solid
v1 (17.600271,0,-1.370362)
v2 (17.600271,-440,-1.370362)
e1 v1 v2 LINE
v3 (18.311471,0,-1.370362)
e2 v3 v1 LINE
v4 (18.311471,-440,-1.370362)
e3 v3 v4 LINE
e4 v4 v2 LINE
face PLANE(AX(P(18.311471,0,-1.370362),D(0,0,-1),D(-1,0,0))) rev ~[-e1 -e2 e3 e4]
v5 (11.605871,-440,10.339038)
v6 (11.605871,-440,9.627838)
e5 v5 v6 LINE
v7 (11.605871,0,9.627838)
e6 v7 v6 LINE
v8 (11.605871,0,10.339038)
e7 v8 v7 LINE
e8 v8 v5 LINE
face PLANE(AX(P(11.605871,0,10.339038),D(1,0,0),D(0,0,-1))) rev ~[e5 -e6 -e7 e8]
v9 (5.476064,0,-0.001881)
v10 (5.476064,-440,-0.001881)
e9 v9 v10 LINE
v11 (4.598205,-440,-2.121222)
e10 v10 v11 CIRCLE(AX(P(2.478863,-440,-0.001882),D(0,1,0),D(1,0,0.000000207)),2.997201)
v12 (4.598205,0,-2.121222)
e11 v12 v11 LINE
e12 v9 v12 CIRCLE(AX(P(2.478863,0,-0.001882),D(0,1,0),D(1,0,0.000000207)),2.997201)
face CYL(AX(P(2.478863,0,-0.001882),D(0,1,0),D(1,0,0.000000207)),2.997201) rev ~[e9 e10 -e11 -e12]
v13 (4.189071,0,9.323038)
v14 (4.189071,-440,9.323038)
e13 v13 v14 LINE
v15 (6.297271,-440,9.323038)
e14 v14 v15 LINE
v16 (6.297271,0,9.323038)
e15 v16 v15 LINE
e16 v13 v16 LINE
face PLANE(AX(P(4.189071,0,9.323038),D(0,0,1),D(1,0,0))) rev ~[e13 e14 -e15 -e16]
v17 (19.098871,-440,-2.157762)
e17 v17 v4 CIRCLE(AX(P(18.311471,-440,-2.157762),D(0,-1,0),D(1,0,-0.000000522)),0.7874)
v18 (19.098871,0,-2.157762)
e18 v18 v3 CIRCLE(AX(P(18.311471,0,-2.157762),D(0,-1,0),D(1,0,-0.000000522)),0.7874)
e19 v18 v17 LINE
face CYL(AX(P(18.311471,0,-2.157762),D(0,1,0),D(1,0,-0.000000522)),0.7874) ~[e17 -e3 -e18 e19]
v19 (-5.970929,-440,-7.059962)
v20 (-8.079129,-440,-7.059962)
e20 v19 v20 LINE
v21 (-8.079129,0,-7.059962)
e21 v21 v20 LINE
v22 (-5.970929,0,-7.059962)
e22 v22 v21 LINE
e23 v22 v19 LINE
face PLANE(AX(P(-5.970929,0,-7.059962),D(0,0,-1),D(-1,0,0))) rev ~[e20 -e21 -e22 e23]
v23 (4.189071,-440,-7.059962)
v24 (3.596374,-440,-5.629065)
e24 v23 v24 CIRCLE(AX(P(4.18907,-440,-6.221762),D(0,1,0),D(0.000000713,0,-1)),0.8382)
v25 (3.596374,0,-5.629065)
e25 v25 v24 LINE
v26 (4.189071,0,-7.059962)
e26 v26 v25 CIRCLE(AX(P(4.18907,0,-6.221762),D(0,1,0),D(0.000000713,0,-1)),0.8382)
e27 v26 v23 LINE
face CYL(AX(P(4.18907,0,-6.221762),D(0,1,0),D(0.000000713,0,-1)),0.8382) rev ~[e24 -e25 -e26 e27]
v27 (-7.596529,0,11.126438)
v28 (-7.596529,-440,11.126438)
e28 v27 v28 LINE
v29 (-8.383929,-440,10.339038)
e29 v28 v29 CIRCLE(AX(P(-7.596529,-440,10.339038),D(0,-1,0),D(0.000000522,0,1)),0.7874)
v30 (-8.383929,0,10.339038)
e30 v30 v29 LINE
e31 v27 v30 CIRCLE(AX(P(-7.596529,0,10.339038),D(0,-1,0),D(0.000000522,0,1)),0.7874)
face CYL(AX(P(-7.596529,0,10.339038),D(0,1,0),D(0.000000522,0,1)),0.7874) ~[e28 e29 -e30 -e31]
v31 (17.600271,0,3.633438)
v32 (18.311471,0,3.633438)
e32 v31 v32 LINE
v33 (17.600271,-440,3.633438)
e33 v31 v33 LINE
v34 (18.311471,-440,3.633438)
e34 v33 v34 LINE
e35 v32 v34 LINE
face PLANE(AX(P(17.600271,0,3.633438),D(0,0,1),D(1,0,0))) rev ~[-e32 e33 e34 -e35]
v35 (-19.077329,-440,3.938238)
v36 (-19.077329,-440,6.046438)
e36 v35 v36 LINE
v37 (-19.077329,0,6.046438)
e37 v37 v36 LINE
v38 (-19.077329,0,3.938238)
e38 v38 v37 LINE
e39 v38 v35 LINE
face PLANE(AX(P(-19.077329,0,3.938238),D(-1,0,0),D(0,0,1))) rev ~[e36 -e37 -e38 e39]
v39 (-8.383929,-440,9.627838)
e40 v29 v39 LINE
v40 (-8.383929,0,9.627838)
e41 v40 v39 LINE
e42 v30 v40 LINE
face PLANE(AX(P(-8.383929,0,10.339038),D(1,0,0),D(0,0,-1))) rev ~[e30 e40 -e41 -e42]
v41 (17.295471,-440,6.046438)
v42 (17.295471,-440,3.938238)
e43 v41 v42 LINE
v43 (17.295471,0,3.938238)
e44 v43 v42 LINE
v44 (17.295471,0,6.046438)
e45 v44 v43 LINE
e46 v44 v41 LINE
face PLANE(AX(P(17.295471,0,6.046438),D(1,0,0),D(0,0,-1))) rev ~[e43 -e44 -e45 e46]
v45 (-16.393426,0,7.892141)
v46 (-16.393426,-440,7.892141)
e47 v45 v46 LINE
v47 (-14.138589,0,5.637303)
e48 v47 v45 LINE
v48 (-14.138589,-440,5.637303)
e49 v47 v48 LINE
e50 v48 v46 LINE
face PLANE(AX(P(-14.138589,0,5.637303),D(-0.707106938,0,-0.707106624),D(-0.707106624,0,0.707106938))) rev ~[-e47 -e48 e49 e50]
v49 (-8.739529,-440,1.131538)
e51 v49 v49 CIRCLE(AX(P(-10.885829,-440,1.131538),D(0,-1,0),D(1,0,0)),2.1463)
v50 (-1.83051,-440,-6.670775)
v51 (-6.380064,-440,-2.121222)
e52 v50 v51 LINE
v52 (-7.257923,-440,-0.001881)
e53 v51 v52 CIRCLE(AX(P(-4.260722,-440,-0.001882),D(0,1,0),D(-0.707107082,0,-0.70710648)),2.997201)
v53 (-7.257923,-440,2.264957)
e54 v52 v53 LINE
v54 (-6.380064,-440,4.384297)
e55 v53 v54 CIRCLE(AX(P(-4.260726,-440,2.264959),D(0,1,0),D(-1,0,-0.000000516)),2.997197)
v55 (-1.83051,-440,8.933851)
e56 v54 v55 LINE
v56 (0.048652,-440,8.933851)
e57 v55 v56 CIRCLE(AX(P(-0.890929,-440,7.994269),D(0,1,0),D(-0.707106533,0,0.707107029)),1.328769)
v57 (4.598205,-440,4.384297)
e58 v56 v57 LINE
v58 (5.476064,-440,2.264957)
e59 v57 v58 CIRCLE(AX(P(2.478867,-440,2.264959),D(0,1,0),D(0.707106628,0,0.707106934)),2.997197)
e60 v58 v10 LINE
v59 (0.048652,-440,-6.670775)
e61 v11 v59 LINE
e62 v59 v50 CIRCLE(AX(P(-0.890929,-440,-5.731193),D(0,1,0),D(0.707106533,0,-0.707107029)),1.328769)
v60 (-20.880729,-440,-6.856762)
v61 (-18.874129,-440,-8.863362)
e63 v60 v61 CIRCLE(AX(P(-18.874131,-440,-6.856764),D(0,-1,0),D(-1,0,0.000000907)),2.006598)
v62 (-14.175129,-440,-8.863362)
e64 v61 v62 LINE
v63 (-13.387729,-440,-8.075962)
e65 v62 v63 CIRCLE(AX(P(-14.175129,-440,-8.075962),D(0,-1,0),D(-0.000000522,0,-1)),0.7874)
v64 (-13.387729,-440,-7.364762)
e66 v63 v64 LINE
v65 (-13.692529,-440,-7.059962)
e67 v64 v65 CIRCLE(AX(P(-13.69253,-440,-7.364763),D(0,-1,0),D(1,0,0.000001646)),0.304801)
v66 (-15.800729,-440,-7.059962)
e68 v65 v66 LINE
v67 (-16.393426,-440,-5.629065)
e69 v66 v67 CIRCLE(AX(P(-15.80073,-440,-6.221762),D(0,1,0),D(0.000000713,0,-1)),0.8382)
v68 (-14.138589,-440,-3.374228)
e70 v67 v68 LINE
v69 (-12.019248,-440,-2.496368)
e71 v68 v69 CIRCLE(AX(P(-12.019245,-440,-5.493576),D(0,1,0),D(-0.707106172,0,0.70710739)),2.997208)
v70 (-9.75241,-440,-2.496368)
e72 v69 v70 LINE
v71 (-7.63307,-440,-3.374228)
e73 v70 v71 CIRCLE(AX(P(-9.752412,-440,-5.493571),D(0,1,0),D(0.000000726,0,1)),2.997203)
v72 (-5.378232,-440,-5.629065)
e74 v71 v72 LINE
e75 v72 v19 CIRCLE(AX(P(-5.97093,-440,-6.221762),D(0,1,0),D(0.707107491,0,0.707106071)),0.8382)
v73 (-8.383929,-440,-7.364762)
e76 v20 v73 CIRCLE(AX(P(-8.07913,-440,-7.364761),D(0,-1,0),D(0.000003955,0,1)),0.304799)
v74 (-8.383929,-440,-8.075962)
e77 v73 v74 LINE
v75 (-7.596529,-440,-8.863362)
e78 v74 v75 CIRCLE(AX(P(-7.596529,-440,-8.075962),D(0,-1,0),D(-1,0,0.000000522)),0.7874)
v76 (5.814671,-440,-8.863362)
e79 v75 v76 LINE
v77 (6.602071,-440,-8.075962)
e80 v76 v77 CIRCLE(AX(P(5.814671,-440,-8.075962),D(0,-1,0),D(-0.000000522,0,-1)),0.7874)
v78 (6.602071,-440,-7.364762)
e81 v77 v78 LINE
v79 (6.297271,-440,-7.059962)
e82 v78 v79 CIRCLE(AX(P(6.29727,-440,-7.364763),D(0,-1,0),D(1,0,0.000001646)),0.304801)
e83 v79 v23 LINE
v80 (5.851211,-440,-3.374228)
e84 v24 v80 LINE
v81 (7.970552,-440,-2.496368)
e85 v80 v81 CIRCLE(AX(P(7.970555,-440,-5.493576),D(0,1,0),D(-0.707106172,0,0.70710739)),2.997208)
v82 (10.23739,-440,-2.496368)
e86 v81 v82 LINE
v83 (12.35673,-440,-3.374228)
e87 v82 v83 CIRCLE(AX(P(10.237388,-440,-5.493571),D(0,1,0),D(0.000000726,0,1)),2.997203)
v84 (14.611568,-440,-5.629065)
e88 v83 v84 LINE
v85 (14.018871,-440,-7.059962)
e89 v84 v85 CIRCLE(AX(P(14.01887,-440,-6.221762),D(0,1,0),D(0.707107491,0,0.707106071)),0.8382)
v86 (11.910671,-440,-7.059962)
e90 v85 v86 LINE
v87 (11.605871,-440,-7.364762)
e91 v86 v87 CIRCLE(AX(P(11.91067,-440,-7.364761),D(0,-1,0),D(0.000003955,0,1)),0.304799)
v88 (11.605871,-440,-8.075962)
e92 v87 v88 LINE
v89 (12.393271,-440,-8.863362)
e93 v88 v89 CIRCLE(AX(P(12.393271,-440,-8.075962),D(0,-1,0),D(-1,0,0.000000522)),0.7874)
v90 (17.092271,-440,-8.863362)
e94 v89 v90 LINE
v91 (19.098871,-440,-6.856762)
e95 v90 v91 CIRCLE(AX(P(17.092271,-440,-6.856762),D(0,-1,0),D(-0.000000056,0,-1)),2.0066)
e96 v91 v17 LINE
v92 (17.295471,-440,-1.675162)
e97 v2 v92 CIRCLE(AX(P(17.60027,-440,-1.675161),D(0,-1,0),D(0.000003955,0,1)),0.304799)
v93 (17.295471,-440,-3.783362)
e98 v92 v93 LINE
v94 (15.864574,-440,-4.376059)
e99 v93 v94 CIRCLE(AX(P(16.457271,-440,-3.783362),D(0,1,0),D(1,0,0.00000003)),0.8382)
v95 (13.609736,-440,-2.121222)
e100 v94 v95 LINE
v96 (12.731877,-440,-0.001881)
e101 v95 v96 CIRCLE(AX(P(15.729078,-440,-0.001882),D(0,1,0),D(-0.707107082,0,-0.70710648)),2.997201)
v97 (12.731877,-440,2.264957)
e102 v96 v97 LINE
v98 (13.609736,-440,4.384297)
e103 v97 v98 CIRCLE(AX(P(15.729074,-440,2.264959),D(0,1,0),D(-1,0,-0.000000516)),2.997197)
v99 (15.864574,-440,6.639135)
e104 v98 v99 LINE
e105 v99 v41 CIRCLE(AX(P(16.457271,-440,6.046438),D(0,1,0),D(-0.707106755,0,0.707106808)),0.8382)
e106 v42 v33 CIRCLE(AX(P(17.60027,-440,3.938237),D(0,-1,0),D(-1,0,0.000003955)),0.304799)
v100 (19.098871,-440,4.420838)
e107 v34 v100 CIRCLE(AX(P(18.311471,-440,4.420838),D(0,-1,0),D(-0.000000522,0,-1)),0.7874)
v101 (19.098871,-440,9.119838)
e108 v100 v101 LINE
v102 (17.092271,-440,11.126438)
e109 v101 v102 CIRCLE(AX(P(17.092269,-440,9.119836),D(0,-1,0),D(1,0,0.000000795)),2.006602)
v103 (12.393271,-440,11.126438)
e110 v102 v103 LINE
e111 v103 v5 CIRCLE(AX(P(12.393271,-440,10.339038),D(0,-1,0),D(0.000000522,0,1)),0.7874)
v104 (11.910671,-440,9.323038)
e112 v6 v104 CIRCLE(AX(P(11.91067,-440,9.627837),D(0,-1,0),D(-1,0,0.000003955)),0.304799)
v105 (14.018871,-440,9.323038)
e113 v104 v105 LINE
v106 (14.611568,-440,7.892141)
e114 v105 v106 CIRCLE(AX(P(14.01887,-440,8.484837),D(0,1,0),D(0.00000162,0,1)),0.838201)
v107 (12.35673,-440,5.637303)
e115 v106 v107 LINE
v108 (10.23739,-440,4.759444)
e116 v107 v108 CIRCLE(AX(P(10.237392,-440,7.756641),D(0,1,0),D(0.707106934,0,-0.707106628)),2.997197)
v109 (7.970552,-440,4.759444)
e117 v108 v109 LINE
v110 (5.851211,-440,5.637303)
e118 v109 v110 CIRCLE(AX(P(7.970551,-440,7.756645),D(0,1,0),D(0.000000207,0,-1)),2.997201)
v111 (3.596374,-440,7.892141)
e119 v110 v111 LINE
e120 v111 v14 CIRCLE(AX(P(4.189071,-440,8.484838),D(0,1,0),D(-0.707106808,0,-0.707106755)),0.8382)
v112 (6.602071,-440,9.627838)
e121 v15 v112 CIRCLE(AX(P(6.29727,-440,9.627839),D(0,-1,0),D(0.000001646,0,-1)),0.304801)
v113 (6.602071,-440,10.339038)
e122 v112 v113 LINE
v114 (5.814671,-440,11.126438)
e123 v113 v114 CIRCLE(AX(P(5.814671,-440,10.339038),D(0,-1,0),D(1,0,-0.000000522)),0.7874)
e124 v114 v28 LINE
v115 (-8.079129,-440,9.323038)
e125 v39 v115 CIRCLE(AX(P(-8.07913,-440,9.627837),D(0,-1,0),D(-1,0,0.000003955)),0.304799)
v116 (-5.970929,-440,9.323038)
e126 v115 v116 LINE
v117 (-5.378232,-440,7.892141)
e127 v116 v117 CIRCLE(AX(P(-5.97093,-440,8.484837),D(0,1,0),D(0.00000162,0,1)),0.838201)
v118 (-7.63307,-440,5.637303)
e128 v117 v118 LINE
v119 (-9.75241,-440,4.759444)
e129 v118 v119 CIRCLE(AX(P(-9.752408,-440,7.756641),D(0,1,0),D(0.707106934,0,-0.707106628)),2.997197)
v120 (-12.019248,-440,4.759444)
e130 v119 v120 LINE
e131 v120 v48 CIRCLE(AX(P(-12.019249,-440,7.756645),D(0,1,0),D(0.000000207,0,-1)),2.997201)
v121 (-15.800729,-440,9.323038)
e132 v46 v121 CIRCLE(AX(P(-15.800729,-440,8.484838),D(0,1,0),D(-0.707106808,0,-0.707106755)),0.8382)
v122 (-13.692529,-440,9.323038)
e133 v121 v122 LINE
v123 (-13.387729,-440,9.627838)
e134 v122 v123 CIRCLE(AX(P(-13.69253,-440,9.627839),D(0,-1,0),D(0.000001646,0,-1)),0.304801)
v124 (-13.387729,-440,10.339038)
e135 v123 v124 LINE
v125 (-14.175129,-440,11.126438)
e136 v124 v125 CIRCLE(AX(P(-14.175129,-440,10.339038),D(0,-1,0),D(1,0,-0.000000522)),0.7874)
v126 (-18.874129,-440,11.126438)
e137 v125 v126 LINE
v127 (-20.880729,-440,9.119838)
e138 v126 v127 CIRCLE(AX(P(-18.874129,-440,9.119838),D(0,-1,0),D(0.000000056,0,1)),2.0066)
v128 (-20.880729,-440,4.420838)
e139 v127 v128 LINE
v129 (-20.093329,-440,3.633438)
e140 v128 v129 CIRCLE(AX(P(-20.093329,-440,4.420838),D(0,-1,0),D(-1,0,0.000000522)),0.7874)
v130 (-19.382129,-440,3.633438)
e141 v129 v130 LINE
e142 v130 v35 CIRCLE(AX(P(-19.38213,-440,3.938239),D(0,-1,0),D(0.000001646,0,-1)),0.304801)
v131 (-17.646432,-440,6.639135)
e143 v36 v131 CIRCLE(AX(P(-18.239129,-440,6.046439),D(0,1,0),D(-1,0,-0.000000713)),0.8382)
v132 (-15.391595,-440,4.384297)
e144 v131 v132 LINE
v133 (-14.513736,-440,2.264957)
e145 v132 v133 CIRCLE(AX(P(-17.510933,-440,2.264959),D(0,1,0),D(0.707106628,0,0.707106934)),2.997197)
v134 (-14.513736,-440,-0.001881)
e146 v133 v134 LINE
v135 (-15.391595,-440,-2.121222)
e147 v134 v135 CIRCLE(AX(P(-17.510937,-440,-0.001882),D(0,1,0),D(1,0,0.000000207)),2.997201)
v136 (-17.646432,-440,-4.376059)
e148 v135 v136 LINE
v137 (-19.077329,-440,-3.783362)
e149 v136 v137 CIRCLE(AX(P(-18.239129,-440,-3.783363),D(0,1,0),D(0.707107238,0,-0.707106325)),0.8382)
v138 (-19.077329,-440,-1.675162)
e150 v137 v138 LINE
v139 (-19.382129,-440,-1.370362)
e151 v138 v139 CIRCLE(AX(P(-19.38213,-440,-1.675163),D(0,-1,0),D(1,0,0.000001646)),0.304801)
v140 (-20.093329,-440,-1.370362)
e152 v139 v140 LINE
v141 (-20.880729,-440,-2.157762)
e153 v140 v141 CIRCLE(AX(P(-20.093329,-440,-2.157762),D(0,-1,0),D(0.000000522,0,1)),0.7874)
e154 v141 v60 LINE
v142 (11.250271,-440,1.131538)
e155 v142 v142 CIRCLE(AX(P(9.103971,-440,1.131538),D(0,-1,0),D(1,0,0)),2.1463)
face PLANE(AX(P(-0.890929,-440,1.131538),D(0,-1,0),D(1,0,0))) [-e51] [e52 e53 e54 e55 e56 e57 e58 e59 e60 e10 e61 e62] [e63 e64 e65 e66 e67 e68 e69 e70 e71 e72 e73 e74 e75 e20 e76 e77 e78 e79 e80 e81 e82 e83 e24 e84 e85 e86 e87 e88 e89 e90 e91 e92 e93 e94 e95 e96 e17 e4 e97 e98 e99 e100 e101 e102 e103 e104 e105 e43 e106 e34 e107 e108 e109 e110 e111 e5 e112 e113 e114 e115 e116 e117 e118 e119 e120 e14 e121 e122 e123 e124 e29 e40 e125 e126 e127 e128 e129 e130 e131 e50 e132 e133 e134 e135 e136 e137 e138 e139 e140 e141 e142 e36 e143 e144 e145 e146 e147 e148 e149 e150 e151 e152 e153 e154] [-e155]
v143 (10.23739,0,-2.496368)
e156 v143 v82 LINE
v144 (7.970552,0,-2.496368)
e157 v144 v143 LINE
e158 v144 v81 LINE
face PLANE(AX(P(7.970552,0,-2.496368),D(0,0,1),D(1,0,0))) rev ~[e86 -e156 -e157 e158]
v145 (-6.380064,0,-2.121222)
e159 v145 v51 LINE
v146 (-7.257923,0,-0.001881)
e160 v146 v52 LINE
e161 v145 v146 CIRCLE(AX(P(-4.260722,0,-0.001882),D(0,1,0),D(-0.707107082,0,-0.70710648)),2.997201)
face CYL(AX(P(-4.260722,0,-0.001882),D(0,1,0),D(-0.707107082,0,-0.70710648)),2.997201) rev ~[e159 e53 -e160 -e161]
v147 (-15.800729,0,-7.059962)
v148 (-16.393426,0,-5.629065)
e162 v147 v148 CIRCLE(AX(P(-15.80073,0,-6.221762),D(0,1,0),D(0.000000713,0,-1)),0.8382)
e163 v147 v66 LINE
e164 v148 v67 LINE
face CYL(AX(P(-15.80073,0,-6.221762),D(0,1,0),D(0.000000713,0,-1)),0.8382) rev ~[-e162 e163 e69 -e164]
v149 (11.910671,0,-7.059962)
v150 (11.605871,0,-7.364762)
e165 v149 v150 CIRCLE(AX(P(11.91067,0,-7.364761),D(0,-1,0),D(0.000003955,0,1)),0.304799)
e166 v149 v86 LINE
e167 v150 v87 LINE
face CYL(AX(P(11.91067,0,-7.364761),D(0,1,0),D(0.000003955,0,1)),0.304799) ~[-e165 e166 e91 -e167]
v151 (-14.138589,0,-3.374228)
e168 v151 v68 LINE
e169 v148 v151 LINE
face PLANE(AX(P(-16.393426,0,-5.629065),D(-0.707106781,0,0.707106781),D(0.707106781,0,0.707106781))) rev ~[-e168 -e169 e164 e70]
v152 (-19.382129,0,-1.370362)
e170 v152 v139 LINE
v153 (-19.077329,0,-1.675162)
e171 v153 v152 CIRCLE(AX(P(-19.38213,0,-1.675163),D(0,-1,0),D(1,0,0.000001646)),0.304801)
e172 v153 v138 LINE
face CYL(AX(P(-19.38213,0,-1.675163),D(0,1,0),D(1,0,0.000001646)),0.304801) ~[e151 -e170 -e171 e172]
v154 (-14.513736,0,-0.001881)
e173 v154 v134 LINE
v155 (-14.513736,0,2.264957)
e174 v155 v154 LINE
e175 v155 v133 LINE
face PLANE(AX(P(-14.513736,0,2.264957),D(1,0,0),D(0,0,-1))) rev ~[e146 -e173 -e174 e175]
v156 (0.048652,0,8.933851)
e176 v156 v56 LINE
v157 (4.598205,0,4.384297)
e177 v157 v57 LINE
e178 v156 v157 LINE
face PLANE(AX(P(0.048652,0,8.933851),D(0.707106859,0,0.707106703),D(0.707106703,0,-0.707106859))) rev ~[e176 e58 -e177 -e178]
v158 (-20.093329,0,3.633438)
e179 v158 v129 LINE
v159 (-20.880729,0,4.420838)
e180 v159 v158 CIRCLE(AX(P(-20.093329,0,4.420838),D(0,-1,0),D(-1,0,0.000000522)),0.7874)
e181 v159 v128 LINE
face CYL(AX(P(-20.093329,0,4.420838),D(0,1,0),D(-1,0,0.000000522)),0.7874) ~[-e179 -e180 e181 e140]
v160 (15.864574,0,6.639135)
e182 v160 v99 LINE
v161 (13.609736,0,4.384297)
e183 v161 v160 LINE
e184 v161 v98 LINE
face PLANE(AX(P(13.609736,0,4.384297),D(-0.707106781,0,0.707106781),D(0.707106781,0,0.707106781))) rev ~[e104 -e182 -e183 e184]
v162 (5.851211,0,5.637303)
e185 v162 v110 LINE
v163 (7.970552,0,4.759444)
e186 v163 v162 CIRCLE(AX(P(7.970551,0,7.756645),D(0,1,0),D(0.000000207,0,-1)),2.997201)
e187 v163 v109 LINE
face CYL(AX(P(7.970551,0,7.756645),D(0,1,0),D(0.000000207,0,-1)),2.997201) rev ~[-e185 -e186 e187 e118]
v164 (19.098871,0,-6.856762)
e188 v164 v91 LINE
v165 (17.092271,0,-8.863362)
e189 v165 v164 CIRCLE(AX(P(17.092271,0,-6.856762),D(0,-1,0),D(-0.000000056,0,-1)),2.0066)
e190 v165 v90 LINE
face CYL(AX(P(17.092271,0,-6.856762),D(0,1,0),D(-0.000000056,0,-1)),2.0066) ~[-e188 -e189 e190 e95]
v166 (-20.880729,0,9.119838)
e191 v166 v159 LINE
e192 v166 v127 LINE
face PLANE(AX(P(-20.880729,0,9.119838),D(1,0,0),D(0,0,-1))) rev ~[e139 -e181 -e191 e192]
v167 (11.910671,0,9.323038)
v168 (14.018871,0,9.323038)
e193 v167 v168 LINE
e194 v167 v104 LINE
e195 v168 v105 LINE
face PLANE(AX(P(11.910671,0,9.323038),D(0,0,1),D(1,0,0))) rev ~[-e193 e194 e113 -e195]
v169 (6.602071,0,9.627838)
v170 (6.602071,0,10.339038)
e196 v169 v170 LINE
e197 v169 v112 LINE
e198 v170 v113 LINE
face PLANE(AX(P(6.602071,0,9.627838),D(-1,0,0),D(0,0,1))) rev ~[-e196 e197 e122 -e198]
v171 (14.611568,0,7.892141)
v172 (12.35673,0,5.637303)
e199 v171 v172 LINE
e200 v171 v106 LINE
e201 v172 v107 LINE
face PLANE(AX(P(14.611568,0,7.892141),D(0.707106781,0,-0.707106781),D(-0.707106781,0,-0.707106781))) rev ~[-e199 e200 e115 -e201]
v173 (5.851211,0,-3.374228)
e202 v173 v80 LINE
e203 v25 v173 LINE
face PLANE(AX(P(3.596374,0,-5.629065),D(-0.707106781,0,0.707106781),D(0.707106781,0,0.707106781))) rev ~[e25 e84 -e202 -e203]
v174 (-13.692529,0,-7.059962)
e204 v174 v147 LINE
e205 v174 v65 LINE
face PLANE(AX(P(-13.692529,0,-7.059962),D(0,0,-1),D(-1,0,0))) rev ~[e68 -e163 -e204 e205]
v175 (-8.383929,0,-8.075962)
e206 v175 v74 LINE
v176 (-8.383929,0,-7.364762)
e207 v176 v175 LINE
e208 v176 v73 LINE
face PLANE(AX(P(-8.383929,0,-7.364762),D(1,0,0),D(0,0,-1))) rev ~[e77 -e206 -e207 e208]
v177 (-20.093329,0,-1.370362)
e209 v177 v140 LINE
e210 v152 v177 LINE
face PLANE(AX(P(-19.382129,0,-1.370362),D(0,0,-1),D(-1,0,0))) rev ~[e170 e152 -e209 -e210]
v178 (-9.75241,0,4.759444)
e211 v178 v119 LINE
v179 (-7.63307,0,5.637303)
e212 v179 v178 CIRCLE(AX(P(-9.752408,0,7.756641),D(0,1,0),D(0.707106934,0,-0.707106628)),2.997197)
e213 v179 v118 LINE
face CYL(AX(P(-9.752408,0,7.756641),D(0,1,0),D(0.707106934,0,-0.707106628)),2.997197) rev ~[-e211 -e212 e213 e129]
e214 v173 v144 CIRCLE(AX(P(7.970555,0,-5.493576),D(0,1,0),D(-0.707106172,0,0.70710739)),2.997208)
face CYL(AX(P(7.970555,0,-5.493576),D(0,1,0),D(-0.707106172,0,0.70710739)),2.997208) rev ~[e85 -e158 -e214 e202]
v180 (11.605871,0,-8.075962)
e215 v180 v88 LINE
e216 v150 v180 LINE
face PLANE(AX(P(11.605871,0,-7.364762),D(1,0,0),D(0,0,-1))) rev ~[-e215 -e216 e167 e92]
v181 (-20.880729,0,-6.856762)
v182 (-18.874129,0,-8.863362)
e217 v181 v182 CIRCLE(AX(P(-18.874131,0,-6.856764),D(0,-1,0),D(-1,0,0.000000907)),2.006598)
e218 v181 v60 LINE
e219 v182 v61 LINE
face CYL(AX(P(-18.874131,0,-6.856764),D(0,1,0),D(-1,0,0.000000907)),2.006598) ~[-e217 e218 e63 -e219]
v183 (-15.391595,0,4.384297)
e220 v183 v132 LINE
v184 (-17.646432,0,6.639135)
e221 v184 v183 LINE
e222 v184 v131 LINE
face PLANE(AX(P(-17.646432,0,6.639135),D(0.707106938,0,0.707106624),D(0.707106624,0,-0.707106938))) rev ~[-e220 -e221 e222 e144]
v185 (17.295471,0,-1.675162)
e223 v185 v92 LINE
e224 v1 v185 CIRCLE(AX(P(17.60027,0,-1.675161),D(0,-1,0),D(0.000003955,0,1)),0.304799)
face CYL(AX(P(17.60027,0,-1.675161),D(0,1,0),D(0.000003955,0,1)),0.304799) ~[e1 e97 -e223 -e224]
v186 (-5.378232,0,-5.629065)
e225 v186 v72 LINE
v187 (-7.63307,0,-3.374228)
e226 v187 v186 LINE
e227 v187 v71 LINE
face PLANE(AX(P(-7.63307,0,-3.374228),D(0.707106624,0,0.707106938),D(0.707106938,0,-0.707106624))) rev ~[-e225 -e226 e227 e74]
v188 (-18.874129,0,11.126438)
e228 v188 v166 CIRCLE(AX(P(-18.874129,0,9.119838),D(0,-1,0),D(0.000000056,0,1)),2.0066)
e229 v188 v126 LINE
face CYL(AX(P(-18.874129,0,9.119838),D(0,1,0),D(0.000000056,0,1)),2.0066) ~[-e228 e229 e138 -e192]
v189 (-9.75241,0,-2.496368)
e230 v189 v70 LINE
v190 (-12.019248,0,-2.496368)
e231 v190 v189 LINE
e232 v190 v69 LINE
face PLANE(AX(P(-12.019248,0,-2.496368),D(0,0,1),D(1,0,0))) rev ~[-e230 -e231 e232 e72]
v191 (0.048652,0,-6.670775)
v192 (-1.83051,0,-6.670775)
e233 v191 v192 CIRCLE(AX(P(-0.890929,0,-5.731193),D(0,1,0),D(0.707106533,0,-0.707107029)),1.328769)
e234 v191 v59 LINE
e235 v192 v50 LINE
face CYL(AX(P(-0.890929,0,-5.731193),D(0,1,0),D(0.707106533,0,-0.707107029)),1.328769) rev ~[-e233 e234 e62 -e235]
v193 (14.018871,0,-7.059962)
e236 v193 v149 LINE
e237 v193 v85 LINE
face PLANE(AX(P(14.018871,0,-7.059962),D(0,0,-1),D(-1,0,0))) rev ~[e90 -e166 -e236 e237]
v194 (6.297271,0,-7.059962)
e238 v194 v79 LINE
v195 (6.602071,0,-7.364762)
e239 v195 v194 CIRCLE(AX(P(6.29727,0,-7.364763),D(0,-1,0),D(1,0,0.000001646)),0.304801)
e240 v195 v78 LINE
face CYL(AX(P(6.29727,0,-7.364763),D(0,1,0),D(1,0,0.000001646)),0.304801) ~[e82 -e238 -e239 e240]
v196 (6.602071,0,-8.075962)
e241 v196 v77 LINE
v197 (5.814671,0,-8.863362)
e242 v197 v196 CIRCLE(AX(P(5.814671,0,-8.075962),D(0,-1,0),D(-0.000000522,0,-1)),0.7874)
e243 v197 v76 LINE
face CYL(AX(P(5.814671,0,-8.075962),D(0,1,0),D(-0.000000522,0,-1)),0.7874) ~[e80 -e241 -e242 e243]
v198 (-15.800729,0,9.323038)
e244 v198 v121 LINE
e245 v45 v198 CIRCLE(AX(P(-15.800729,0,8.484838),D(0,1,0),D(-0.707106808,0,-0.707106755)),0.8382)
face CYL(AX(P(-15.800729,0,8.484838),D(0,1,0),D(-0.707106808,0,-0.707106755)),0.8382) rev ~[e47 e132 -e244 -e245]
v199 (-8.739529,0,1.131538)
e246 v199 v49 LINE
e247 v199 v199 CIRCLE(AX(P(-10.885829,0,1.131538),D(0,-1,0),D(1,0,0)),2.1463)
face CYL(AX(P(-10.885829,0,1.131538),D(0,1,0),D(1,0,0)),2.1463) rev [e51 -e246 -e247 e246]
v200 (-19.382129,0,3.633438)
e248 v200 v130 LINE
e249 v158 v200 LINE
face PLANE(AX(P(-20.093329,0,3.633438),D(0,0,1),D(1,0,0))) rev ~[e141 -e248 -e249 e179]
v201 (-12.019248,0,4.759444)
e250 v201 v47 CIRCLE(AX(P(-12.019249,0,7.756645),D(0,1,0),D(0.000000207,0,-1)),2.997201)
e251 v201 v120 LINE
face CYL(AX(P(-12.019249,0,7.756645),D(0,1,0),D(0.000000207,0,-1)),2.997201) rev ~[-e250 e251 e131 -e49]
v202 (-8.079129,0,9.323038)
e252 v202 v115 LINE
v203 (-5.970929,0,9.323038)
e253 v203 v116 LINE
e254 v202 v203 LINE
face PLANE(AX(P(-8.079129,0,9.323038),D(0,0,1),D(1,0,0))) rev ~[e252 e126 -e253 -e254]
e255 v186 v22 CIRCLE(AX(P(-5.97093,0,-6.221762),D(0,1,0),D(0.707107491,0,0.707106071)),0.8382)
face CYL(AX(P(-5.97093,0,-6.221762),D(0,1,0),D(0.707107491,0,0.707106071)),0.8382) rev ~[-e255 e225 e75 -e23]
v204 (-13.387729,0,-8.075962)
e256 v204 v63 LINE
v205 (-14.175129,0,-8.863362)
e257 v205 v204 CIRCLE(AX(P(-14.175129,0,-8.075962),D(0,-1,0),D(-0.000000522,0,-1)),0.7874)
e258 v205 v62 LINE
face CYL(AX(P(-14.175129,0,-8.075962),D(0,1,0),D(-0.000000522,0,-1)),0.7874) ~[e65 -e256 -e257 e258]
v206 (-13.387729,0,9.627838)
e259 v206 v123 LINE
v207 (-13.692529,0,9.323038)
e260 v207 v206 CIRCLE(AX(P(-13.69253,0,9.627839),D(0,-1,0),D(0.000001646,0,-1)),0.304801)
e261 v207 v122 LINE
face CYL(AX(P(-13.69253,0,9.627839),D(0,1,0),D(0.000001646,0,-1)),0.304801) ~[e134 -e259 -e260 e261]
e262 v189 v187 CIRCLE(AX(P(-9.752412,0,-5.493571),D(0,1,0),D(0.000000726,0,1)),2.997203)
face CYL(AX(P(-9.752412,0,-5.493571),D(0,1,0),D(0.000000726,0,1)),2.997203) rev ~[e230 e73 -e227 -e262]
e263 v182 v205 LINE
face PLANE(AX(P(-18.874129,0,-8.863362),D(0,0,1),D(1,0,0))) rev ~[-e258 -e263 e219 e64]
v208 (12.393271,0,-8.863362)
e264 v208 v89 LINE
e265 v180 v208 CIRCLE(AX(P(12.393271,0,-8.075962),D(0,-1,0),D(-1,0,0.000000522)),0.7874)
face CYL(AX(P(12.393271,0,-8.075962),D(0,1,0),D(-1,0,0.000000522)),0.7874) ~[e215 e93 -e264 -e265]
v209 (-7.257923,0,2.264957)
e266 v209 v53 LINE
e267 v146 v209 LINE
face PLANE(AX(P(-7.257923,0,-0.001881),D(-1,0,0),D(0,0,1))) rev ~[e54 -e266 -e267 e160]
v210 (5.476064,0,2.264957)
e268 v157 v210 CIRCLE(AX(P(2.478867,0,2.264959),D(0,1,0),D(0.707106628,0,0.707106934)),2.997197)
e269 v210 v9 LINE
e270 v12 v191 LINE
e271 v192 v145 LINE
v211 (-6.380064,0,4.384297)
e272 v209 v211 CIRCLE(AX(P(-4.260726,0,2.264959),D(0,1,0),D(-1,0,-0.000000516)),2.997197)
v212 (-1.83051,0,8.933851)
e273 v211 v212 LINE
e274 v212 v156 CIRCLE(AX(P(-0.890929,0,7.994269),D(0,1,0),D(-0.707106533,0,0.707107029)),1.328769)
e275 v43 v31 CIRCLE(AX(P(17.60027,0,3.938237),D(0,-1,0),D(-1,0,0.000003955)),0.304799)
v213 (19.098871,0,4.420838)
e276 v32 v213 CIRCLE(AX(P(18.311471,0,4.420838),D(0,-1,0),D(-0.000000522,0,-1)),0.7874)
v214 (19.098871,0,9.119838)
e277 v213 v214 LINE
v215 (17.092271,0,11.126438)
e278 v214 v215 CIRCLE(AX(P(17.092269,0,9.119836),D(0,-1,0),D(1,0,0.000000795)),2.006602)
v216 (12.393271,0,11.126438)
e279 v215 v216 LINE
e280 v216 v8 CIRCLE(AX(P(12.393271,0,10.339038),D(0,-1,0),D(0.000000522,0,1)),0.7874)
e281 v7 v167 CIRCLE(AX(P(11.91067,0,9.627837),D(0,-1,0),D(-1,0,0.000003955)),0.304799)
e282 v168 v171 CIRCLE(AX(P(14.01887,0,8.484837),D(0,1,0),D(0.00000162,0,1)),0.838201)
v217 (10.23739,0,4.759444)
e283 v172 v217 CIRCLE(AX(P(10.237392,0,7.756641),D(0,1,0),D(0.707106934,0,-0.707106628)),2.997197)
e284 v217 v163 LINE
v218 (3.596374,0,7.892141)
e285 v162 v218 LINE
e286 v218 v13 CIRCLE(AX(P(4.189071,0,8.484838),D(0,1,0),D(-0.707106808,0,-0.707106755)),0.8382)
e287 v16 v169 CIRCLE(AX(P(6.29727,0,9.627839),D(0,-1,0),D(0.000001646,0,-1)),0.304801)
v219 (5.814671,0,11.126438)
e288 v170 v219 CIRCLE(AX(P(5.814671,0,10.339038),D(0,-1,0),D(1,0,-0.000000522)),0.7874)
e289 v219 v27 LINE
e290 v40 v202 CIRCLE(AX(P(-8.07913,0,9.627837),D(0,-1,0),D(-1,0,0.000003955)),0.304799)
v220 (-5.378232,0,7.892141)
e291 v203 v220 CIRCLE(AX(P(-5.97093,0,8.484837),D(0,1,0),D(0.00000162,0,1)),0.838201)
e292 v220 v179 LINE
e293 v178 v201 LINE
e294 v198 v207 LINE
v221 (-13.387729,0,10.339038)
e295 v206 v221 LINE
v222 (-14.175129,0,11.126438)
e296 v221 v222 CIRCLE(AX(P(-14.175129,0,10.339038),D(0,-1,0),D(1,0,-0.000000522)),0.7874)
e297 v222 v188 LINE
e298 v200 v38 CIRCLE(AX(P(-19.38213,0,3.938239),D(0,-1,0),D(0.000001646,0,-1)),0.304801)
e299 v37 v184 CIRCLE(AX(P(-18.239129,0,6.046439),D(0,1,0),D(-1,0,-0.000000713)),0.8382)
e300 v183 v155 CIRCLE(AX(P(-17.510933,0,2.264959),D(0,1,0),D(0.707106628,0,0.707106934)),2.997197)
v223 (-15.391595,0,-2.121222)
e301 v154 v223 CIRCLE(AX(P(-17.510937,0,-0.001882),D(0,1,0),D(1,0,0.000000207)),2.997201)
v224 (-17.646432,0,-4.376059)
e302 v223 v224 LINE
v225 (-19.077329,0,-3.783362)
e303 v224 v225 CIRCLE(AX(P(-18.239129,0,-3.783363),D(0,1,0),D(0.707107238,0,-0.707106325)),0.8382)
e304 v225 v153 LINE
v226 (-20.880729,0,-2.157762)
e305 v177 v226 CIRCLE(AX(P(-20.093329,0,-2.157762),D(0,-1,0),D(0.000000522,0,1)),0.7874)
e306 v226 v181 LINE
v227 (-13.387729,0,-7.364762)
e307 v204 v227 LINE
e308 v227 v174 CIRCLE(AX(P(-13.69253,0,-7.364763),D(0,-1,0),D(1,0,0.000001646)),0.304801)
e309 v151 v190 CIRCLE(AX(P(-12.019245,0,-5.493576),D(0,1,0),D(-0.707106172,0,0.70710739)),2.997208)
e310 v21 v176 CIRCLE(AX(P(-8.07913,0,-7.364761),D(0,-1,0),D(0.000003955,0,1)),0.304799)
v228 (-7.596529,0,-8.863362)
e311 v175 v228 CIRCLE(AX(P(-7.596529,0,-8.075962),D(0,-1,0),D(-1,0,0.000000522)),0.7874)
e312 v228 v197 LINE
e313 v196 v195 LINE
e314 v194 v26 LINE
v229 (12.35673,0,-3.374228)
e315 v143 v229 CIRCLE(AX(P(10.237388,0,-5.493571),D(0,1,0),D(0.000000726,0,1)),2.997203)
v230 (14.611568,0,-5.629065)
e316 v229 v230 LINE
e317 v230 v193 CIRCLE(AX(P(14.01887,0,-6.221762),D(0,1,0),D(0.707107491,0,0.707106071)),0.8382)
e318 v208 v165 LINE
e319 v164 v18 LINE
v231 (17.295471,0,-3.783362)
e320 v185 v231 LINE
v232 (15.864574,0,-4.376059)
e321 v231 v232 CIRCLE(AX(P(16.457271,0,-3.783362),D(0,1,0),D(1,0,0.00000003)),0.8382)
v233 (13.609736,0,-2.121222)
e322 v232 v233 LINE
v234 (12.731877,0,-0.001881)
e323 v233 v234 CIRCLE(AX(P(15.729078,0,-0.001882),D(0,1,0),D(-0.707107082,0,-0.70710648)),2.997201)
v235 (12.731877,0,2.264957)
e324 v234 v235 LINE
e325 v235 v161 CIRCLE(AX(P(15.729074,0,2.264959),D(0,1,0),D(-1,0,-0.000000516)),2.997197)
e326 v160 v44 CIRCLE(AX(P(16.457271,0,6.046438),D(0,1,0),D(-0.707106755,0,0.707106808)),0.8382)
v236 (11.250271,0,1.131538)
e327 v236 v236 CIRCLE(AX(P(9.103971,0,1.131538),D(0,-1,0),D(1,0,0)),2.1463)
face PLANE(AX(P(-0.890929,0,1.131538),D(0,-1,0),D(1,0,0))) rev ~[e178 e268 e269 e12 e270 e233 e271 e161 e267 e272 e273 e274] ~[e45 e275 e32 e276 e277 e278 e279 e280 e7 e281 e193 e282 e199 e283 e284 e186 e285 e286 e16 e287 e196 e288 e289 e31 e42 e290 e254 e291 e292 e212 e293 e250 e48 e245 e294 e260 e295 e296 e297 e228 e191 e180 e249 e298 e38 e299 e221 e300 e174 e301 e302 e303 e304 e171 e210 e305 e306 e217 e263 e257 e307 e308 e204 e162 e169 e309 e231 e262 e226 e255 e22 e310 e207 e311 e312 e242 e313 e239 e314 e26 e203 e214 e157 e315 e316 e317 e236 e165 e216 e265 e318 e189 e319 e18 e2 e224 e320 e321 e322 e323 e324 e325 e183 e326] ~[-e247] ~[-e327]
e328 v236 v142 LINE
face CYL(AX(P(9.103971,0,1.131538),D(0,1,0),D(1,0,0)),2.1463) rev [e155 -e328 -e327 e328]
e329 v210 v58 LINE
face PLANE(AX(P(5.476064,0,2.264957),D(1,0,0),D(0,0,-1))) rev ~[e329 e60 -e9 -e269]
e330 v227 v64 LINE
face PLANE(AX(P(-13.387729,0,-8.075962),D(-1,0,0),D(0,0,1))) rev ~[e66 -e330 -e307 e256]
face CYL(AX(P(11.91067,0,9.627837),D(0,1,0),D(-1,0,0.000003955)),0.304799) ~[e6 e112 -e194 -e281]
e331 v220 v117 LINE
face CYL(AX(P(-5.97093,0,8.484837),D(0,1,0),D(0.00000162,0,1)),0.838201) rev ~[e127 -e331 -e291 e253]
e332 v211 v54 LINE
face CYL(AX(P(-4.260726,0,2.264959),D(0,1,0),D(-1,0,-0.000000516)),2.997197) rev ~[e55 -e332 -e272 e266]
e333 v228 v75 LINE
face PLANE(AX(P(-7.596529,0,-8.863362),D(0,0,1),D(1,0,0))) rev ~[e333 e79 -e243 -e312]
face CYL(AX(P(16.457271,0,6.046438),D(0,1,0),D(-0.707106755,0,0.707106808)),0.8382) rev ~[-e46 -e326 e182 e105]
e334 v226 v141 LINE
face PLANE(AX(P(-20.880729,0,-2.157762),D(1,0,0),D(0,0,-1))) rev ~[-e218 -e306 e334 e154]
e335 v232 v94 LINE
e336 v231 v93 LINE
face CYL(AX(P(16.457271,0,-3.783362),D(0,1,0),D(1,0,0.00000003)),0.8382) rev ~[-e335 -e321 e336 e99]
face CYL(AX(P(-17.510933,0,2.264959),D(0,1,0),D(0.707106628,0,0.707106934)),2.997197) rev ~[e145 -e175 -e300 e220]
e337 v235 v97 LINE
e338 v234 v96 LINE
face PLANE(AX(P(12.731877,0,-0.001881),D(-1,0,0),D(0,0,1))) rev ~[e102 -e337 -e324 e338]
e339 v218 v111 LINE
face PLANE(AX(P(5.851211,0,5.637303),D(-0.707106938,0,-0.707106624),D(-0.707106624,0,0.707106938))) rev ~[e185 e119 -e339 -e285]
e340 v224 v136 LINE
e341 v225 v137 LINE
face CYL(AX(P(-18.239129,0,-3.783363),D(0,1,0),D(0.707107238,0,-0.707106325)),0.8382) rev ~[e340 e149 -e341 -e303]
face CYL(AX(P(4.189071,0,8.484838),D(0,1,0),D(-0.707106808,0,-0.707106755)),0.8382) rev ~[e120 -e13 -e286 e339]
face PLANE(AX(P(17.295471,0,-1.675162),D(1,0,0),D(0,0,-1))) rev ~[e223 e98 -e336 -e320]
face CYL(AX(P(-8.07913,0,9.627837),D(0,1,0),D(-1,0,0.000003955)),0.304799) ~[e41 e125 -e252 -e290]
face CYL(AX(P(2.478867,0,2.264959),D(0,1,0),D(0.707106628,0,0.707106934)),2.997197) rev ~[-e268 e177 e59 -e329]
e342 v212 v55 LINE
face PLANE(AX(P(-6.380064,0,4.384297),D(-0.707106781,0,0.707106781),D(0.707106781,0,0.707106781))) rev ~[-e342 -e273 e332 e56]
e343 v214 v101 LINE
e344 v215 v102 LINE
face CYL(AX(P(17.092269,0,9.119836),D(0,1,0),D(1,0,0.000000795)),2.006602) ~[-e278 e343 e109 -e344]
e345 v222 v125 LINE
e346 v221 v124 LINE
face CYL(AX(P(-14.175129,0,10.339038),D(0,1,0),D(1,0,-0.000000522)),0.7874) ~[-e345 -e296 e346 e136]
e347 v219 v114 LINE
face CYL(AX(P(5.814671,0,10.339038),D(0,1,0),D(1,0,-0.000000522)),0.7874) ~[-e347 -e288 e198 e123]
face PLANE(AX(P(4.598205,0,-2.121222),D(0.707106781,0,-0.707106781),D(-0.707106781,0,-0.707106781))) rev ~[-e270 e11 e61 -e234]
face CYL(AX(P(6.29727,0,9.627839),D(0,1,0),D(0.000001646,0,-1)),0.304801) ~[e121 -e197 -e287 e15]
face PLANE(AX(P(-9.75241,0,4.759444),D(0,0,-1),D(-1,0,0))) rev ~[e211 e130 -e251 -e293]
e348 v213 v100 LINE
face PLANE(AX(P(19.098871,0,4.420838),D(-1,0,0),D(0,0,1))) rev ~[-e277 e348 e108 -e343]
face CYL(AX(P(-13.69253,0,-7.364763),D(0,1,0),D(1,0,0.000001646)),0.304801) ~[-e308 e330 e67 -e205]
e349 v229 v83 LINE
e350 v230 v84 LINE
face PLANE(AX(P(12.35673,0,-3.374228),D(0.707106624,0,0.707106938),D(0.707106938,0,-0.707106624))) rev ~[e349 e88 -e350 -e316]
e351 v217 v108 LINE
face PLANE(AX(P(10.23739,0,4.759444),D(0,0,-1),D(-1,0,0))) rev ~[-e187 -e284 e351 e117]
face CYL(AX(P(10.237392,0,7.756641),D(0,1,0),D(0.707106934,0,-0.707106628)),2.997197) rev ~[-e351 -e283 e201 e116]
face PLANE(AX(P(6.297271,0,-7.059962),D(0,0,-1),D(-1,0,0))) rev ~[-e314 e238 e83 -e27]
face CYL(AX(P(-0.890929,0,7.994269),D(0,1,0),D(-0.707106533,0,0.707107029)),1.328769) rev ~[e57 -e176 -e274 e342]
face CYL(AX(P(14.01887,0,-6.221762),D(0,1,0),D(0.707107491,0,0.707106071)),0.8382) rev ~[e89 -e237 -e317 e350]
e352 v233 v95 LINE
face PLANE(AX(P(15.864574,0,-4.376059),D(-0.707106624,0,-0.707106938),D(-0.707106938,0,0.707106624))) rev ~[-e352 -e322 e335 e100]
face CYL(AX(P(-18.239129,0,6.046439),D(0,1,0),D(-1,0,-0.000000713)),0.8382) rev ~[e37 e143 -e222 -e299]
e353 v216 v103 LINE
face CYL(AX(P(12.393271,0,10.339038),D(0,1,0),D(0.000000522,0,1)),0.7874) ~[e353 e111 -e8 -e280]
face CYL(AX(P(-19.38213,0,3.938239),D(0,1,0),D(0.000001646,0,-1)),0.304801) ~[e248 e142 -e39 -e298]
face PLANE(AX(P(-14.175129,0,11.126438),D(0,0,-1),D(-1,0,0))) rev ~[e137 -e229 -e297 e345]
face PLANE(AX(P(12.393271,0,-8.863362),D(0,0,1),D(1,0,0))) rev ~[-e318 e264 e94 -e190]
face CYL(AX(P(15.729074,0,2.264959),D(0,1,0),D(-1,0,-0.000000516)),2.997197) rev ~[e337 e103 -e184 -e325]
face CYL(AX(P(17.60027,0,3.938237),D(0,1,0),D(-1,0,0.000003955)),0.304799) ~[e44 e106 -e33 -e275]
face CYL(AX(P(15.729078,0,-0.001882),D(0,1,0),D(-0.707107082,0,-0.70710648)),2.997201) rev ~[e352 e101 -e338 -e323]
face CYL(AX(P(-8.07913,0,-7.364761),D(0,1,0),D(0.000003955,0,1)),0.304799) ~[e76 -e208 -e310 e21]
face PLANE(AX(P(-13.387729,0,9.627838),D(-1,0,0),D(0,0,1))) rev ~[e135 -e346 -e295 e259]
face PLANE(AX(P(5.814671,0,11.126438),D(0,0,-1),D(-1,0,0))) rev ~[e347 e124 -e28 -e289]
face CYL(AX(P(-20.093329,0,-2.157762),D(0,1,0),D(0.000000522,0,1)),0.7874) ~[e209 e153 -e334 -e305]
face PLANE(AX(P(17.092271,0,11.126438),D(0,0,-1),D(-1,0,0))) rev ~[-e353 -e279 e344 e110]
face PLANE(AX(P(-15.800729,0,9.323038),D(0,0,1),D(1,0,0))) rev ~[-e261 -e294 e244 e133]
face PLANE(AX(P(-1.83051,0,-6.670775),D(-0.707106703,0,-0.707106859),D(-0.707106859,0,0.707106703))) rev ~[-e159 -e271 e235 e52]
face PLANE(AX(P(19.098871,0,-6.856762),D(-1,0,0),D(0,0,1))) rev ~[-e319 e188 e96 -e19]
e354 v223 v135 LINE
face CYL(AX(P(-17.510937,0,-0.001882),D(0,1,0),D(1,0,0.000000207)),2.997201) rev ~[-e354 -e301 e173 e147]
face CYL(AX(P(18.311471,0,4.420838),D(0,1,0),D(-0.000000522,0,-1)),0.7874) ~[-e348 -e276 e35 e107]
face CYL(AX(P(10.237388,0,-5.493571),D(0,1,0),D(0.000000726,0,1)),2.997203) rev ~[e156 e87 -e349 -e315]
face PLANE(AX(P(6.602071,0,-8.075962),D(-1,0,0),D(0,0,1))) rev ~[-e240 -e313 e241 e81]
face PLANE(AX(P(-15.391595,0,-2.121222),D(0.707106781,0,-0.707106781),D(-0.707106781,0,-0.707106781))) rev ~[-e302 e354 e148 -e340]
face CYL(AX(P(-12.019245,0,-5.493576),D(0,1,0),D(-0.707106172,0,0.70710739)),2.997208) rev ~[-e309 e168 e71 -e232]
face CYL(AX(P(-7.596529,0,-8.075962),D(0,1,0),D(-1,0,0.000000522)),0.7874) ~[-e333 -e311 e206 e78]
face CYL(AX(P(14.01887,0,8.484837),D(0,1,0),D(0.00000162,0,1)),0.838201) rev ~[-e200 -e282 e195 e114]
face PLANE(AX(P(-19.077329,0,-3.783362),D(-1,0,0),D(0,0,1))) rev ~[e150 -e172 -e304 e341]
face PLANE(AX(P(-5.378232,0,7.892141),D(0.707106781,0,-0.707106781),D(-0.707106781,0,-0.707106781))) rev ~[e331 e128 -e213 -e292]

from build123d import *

# Parameters (mm, degrees)
F0_R     = 2.1463
F1_DEPTH = 440


with BuildPart() as f1:
    # F0 (on Front) → F1 (new body)
    with BuildSketch(Plane.XZ):
        with BuildLine():
            Line((-9.75241, 4.759444), (-12.019248, 4.759444))
            ThreePointArc((-12.019248, 4.759444), (-13.166227, 4.987592), (-14.138589, 5.637303))
            Line((-14.138589, 5.637303), (-16.393426, 7.892141))
            ThreePointArc((-16.393426, 7.892141), (-16.575125, 8.805603), (-15.800729, 9.323038))
            Line((-15.800729, 9.323038), (-13.692529, 9.323038))
            ThreePointArc((-13.692529, 9.323038), (-13.477003, 9.412312), (-13.387729, 9.627838))
            Line((-13.387729, 9.627838), (-13.387729, 10.339038))
            ThreePointArc((-13.387729, 10.339038), (-13.618353, 10.895814), (-14.175129, 11.126438))
            Line((-14.175129, 11.126438), (-18.874129, 11.126438))
            ThreePointArc((-18.874129, 11.126438), (-20.29301, 10.538718), (-20.880729, 9.119838))
            Line((-20.880729, 9.119838), (-20.880729, 4.420838))
            ThreePointArc((-20.880729, 4.420838), (-20.650105, 3.864062), (-20.093329, 3.633438))
            Line((-20.093329, 3.633438), (-19.382129, 3.633438))
            ThreePointArc((-19.382129, 3.633438), (-19.166603, 3.722712), (-19.077329, 3.938238))
            Line((-19.077329, 3.938238), (-19.077329, 6.046438))
            ThreePointArc((-19.077329, 6.046438), (-18.559895, 6.820834), (-17.646432, 6.639135))
            Line((-17.646432, 6.639135), (-15.391595, 4.384297))
            ThreePointArc((-15.391595, 4.384297), (-14.741884, 3.411936), (-14.513736, 2.264957))
            Line((-14.513736, 2.264957), (-14.513736, -0.001881))
            ThreePointArc((-14.513736, -0.001881), (-14.741884, -1.14886), (-15.391595, -2.121222))
            Line((-15.391595, -2.121222), (-17.646432, -4.376059))
            ThreePointArc((-17.646432, -4.376059), (-18.559895, -4.557758), (-19.077329, -3.783362))
            Line((-19.077329, -3.783362), (-19.077329, -1.675162))
            ThreePointArc((-19.077329, -1.675162), (-19.166603, -1.459636), (-19.382129, -1.370362))
            Line((-19.382129, -1.370362), (-20.093329, -1.370362))
            ThreePointArc((-20.093329, -1.370362), (-20.650105, -1.600986), (-20.880729, -2.157762))
            Line((-20.880729, -2.157762), (-20.880729, -6.856762))
            ThreePointArc((-20.880729, -6.856762), (-20.29301, -8.275643), (-18.874129, -8.863362))
            Line((-18.874129, -8.863362), (-14.175129, -8.863362))
            ThreePointArc((-14.175129, -8.863362), (-13.618353, -8.632738), (-13.387729, -8.075962))
            Line((-13.387729, -8.075962), (-13.387729, -7.364762))
            ThreePointArc((-13.387729, -7.364762), (-13.477003, -7.149236), (-13.692529, -7.059962))
            Line((-13.692529, -7.059962), (-15.800729, -7.059962))
            ThreePointArc((-15.800729, -7.059962), (-16.575125, -6.542528), (-16.393426, -5.629065))
            Line((-16.393426, -5.629065), (-14.138589, -3.374228))
            ThreePointArc((-14.138589, -3.374228), (-13.166227, -2.724517), (-12.019248, -2.496368))
            Line((-12.019248, -2.496368), (-9.75241, -2.496368))
            ThreePointArc((-9.75241, -2.496368), (-8.605431, -2.724517), (-7.63307, -3.374228))
            Line((-7.63307, -3.374228), (-5.378232, -5.629065))
            ThreePointArc((-5.378232, -5.629065), (-5.196534, -6.542528), (-5.970929, -7.059962))
            Line((-5.970929, -7.059962), (-8.079129, -7.059962))
            ThreePointArc((-8.079129, -7.059962), (-8.294656, -7.149236), (-8.383929, -7.364762))
            Line((-8.383929, -7.364762), (-8.383929, -8.075962))
            ThreePointArc((-8.383929, -8.075962), (-8.153305, -8.632738), (-7.596529, -8.863362))
            Line((-7.596529, -8.863362), (5.814671, -8.863362))
            ThreePointArc((5.814671, -8.863362), (6.371447, -8.632738), (6.602071, -8.075962))
            Line((6.602071, -8.075962), (6.602071, -7.364762))
            ThreePointArc((6.602071, -7.364762), (6.512797, -7.149236), (6.297271, -7.059962))
            Line((6.297271, -7.059962), (4.189071, -7.059962))
            ThreePointArc((4.189071, -7.059962), (3.414675, -6.542528), (3.596374, -5.629065))
            Line((3.596374, -5.629065), (5.851211, -3.374228))
            ThreePointArc((5.851211, -3.374228), (6.823573, -2.724517), (7.970552, -2.496368))
            Line((7.970552, -2.496368), (10.23739, -2.496368))
            ThreePointArc((10.23739, -2.496368), (11.384369, -2.724517), (12.35673, -3.374228))
            Line((12.35673, -3.374228), (14.611568, -5.629065))
            ThreePointArc((14.611568, -5.629065), (14.793266, -6.542528), (14.018871, -7.059962))
            Line((14.018871, -7.059962), (11.910671, -7.059962))
            ThreePointArc((11.910671, -7.059962), (11.695144, -7.149236), (11.605871, -7.364762))
            Line((11.605871, -7.364762), (11.605871, -8.075962))
            ThreePointArc((11.605871, -8.075962), (11.836495, -8.632738), (12.393271, -8.863362))
            Line((12.393271, -8.863362), (17.092271, -8.863362))
            ThreePointArc((17.092271, -8.863362), (18.511151, -8.275643), (19.098871, -6.856762))
            Line((19.098871, -6.856762), (19.098871, -2.157762))
            ThreePointArc((19.098871, -2.157762), (18.868247, -1.600986), (18.311471, -1.370362))
            Line((18.311471, -1.370362), (17.600271, -1.370362))
            ThreePointArc((17.600271, -1.370362), (17.384744, -1.459636), (17.295471, -1.675162))
            Line((17.295471, -1.675162), (17.295471, -3.783362))
            ThreePointArc((17.295471, -3.783362), (16.778036, -4.557758), (15.864574, -4.376059))
            Line((15.864574, -4.376059), (13.609736, -2.121222))
            ThreePointArc((13.609736, -2.121222), (12.960025, -1.14886), (12.731877, -0.001881))
            Line((12.731877, -0.001881), (12.731877, 2.264957))
            ThreePointArc((12.731877, 2.264957), (12.960025, 3.411936), (13.609736, 4.384297))
            Line((13.609736, 4.384297), (15.864574, 6.639135))
            ThreePointArc((15.864574, 6.639135), (16.778036, 6.820834), (17.295471, 6.046438))
            Line((17.295471, 6.046438), (17.295471, 3.938238))
            ThreePointArc((17.295471, 3.938238), (17.384744, 3.722712), (17.600271, 3.633438))
            Line((17.600271, 3.633438), (18.311471, 3.633438))
            ThreePointArc((18.311471, 3.633438), (18.868247, 3.864062), (19.098871, 4.420838))
            Line((19.098871, 4.420838), (19.098871, 9.119838))
            ThreePointArc((19.098871, 9.119838), (18.511151, 10.538718), (17.092271, 11.126438))
            Line((17.092271, 11.126438), (12.393271, 11.126438))
            ThreePointArc((12.393271, 11.126438), (11.836495, 10.895814), (11.605871, 10.339038))
            Line((11.605871, 10.339038), (11.605871, 9.627838))
            ThreePointArc((11.605871, 9.627838), (11.695144, 9.412312), (11.910671, 9.323038))
            Line((11.910671, 9.323038), (14.018871, 9.323038))
            ThreePointArc((14.018871, 9.323038), (14.793266, 8.805603), (14.611568, 7.892141))
            Line((14.611568, 7.892141), (12.35673, 5.637303))
            ThreePointArc((12.35673, 5.637303), (11.384369, 4.987592), (10.23739, 4.759444))
            Line((10.23739, 4.759444), (7.970552, 4.759444))
            ThreePointArc((7.970552, 4.759444), (6.823573, 4.987592), (5.851211, 5.637303))
            Line((5.851211, 5.637303), (3.596374, 7.892141))
            ThreePointArc((3.596374, 7.892141), (3.414675, 8.805603), (4.189071, 9.323038))
            Line((4.189071, 9.323038), (6.297271, 9.323038))
            ThreePointArc((6.297271, 9.323038), (6.512797, 9.412312), (6.602071, 9.627838))
            Line((6.602071, 9.627838), (6.602071, 10.339038))
            ThreePointArc((6.602071, 10.339038), (6.371447, 10.895814), (5.814671, 11.126438))
            Line((5.814671, 11.126438), (-7.596529, 11.126438))
            ThreePointArc((-7.596529, 11.126438), (-8.153305, 10.895814), (-8.383929, 10.339038))
            Line((-8.383929, 10.339038), (-8.383929, 9.627838))
            ThreePointArc((-8.383929, 9.627838), (-8.294656, 9.412312), (-8.079129, 9.323038))
            Line((-8.079129, 9.323038), (-5.970929, 9.323038))
            ThreePointArc((-5.970929, 9.323038), (-5.196534, 8.805603), (-5.378232, 7.892141))
            Line((-5.378232, 7.892141), (-7.63307, 5.637303))
            ThreePointArc((-7.63307, 5.637303), (-8.605431, 4.987592), (-9.75241, 4.759444))
        make_face()
        with Locations((-10.885829, 1.131538)):
            Circle(F0_R, mode=Mode.SUBTRACT)
        with BuildLine():
            Line((-7.257923, -0.001881), (-7.257923, 2.264957))
            ThreePointArc((-7.257923, 2.264957), (-7.029775, 3.411936), (-6.380064, 4.384297))
            Line((-6.380064, 4.384297), (-1.83051, 8.933851))
            ThreePointArc((-1.83051, 8.933851), (-0.890929, 9.323038), (0.048652, 8.933851))
            Line((0.048652, 8.933851), (4.598205, 4.384297))
            ThreePointArc((4.598205, 4.384297), (5.247916, 3.411936), (5.476064, 2.264957))
            Line((5.476064, 2.264957), (5.476064, -0.001881))
            ThreePointArc((5.476064, -0.001881), (5.247916, -1.14886), (4.598205, -2.121222))
            Line((4.598205, -2.121222), (0.048652, -6.670775))
            ThreePointArc((0.048652, -6.670775), (-0.890929, -7.059962), (-1.83051, -6.670775))
            Line((-1.83051, -6.670775), (-6.380064, -2.121222))
            ThreePointArc((-6.380064, -2.121222), (-7.029775, -1.14886), (-7.257923, -0.001881))
        make_face(mode=Mode.SUBTRACT)
        with Locations((9.103971, 1.131538)):
            Circle(F0_R, mode=Mode.SUBTRACT)
    extrude(amount=F1_DEPTH)


solid = f1.part
